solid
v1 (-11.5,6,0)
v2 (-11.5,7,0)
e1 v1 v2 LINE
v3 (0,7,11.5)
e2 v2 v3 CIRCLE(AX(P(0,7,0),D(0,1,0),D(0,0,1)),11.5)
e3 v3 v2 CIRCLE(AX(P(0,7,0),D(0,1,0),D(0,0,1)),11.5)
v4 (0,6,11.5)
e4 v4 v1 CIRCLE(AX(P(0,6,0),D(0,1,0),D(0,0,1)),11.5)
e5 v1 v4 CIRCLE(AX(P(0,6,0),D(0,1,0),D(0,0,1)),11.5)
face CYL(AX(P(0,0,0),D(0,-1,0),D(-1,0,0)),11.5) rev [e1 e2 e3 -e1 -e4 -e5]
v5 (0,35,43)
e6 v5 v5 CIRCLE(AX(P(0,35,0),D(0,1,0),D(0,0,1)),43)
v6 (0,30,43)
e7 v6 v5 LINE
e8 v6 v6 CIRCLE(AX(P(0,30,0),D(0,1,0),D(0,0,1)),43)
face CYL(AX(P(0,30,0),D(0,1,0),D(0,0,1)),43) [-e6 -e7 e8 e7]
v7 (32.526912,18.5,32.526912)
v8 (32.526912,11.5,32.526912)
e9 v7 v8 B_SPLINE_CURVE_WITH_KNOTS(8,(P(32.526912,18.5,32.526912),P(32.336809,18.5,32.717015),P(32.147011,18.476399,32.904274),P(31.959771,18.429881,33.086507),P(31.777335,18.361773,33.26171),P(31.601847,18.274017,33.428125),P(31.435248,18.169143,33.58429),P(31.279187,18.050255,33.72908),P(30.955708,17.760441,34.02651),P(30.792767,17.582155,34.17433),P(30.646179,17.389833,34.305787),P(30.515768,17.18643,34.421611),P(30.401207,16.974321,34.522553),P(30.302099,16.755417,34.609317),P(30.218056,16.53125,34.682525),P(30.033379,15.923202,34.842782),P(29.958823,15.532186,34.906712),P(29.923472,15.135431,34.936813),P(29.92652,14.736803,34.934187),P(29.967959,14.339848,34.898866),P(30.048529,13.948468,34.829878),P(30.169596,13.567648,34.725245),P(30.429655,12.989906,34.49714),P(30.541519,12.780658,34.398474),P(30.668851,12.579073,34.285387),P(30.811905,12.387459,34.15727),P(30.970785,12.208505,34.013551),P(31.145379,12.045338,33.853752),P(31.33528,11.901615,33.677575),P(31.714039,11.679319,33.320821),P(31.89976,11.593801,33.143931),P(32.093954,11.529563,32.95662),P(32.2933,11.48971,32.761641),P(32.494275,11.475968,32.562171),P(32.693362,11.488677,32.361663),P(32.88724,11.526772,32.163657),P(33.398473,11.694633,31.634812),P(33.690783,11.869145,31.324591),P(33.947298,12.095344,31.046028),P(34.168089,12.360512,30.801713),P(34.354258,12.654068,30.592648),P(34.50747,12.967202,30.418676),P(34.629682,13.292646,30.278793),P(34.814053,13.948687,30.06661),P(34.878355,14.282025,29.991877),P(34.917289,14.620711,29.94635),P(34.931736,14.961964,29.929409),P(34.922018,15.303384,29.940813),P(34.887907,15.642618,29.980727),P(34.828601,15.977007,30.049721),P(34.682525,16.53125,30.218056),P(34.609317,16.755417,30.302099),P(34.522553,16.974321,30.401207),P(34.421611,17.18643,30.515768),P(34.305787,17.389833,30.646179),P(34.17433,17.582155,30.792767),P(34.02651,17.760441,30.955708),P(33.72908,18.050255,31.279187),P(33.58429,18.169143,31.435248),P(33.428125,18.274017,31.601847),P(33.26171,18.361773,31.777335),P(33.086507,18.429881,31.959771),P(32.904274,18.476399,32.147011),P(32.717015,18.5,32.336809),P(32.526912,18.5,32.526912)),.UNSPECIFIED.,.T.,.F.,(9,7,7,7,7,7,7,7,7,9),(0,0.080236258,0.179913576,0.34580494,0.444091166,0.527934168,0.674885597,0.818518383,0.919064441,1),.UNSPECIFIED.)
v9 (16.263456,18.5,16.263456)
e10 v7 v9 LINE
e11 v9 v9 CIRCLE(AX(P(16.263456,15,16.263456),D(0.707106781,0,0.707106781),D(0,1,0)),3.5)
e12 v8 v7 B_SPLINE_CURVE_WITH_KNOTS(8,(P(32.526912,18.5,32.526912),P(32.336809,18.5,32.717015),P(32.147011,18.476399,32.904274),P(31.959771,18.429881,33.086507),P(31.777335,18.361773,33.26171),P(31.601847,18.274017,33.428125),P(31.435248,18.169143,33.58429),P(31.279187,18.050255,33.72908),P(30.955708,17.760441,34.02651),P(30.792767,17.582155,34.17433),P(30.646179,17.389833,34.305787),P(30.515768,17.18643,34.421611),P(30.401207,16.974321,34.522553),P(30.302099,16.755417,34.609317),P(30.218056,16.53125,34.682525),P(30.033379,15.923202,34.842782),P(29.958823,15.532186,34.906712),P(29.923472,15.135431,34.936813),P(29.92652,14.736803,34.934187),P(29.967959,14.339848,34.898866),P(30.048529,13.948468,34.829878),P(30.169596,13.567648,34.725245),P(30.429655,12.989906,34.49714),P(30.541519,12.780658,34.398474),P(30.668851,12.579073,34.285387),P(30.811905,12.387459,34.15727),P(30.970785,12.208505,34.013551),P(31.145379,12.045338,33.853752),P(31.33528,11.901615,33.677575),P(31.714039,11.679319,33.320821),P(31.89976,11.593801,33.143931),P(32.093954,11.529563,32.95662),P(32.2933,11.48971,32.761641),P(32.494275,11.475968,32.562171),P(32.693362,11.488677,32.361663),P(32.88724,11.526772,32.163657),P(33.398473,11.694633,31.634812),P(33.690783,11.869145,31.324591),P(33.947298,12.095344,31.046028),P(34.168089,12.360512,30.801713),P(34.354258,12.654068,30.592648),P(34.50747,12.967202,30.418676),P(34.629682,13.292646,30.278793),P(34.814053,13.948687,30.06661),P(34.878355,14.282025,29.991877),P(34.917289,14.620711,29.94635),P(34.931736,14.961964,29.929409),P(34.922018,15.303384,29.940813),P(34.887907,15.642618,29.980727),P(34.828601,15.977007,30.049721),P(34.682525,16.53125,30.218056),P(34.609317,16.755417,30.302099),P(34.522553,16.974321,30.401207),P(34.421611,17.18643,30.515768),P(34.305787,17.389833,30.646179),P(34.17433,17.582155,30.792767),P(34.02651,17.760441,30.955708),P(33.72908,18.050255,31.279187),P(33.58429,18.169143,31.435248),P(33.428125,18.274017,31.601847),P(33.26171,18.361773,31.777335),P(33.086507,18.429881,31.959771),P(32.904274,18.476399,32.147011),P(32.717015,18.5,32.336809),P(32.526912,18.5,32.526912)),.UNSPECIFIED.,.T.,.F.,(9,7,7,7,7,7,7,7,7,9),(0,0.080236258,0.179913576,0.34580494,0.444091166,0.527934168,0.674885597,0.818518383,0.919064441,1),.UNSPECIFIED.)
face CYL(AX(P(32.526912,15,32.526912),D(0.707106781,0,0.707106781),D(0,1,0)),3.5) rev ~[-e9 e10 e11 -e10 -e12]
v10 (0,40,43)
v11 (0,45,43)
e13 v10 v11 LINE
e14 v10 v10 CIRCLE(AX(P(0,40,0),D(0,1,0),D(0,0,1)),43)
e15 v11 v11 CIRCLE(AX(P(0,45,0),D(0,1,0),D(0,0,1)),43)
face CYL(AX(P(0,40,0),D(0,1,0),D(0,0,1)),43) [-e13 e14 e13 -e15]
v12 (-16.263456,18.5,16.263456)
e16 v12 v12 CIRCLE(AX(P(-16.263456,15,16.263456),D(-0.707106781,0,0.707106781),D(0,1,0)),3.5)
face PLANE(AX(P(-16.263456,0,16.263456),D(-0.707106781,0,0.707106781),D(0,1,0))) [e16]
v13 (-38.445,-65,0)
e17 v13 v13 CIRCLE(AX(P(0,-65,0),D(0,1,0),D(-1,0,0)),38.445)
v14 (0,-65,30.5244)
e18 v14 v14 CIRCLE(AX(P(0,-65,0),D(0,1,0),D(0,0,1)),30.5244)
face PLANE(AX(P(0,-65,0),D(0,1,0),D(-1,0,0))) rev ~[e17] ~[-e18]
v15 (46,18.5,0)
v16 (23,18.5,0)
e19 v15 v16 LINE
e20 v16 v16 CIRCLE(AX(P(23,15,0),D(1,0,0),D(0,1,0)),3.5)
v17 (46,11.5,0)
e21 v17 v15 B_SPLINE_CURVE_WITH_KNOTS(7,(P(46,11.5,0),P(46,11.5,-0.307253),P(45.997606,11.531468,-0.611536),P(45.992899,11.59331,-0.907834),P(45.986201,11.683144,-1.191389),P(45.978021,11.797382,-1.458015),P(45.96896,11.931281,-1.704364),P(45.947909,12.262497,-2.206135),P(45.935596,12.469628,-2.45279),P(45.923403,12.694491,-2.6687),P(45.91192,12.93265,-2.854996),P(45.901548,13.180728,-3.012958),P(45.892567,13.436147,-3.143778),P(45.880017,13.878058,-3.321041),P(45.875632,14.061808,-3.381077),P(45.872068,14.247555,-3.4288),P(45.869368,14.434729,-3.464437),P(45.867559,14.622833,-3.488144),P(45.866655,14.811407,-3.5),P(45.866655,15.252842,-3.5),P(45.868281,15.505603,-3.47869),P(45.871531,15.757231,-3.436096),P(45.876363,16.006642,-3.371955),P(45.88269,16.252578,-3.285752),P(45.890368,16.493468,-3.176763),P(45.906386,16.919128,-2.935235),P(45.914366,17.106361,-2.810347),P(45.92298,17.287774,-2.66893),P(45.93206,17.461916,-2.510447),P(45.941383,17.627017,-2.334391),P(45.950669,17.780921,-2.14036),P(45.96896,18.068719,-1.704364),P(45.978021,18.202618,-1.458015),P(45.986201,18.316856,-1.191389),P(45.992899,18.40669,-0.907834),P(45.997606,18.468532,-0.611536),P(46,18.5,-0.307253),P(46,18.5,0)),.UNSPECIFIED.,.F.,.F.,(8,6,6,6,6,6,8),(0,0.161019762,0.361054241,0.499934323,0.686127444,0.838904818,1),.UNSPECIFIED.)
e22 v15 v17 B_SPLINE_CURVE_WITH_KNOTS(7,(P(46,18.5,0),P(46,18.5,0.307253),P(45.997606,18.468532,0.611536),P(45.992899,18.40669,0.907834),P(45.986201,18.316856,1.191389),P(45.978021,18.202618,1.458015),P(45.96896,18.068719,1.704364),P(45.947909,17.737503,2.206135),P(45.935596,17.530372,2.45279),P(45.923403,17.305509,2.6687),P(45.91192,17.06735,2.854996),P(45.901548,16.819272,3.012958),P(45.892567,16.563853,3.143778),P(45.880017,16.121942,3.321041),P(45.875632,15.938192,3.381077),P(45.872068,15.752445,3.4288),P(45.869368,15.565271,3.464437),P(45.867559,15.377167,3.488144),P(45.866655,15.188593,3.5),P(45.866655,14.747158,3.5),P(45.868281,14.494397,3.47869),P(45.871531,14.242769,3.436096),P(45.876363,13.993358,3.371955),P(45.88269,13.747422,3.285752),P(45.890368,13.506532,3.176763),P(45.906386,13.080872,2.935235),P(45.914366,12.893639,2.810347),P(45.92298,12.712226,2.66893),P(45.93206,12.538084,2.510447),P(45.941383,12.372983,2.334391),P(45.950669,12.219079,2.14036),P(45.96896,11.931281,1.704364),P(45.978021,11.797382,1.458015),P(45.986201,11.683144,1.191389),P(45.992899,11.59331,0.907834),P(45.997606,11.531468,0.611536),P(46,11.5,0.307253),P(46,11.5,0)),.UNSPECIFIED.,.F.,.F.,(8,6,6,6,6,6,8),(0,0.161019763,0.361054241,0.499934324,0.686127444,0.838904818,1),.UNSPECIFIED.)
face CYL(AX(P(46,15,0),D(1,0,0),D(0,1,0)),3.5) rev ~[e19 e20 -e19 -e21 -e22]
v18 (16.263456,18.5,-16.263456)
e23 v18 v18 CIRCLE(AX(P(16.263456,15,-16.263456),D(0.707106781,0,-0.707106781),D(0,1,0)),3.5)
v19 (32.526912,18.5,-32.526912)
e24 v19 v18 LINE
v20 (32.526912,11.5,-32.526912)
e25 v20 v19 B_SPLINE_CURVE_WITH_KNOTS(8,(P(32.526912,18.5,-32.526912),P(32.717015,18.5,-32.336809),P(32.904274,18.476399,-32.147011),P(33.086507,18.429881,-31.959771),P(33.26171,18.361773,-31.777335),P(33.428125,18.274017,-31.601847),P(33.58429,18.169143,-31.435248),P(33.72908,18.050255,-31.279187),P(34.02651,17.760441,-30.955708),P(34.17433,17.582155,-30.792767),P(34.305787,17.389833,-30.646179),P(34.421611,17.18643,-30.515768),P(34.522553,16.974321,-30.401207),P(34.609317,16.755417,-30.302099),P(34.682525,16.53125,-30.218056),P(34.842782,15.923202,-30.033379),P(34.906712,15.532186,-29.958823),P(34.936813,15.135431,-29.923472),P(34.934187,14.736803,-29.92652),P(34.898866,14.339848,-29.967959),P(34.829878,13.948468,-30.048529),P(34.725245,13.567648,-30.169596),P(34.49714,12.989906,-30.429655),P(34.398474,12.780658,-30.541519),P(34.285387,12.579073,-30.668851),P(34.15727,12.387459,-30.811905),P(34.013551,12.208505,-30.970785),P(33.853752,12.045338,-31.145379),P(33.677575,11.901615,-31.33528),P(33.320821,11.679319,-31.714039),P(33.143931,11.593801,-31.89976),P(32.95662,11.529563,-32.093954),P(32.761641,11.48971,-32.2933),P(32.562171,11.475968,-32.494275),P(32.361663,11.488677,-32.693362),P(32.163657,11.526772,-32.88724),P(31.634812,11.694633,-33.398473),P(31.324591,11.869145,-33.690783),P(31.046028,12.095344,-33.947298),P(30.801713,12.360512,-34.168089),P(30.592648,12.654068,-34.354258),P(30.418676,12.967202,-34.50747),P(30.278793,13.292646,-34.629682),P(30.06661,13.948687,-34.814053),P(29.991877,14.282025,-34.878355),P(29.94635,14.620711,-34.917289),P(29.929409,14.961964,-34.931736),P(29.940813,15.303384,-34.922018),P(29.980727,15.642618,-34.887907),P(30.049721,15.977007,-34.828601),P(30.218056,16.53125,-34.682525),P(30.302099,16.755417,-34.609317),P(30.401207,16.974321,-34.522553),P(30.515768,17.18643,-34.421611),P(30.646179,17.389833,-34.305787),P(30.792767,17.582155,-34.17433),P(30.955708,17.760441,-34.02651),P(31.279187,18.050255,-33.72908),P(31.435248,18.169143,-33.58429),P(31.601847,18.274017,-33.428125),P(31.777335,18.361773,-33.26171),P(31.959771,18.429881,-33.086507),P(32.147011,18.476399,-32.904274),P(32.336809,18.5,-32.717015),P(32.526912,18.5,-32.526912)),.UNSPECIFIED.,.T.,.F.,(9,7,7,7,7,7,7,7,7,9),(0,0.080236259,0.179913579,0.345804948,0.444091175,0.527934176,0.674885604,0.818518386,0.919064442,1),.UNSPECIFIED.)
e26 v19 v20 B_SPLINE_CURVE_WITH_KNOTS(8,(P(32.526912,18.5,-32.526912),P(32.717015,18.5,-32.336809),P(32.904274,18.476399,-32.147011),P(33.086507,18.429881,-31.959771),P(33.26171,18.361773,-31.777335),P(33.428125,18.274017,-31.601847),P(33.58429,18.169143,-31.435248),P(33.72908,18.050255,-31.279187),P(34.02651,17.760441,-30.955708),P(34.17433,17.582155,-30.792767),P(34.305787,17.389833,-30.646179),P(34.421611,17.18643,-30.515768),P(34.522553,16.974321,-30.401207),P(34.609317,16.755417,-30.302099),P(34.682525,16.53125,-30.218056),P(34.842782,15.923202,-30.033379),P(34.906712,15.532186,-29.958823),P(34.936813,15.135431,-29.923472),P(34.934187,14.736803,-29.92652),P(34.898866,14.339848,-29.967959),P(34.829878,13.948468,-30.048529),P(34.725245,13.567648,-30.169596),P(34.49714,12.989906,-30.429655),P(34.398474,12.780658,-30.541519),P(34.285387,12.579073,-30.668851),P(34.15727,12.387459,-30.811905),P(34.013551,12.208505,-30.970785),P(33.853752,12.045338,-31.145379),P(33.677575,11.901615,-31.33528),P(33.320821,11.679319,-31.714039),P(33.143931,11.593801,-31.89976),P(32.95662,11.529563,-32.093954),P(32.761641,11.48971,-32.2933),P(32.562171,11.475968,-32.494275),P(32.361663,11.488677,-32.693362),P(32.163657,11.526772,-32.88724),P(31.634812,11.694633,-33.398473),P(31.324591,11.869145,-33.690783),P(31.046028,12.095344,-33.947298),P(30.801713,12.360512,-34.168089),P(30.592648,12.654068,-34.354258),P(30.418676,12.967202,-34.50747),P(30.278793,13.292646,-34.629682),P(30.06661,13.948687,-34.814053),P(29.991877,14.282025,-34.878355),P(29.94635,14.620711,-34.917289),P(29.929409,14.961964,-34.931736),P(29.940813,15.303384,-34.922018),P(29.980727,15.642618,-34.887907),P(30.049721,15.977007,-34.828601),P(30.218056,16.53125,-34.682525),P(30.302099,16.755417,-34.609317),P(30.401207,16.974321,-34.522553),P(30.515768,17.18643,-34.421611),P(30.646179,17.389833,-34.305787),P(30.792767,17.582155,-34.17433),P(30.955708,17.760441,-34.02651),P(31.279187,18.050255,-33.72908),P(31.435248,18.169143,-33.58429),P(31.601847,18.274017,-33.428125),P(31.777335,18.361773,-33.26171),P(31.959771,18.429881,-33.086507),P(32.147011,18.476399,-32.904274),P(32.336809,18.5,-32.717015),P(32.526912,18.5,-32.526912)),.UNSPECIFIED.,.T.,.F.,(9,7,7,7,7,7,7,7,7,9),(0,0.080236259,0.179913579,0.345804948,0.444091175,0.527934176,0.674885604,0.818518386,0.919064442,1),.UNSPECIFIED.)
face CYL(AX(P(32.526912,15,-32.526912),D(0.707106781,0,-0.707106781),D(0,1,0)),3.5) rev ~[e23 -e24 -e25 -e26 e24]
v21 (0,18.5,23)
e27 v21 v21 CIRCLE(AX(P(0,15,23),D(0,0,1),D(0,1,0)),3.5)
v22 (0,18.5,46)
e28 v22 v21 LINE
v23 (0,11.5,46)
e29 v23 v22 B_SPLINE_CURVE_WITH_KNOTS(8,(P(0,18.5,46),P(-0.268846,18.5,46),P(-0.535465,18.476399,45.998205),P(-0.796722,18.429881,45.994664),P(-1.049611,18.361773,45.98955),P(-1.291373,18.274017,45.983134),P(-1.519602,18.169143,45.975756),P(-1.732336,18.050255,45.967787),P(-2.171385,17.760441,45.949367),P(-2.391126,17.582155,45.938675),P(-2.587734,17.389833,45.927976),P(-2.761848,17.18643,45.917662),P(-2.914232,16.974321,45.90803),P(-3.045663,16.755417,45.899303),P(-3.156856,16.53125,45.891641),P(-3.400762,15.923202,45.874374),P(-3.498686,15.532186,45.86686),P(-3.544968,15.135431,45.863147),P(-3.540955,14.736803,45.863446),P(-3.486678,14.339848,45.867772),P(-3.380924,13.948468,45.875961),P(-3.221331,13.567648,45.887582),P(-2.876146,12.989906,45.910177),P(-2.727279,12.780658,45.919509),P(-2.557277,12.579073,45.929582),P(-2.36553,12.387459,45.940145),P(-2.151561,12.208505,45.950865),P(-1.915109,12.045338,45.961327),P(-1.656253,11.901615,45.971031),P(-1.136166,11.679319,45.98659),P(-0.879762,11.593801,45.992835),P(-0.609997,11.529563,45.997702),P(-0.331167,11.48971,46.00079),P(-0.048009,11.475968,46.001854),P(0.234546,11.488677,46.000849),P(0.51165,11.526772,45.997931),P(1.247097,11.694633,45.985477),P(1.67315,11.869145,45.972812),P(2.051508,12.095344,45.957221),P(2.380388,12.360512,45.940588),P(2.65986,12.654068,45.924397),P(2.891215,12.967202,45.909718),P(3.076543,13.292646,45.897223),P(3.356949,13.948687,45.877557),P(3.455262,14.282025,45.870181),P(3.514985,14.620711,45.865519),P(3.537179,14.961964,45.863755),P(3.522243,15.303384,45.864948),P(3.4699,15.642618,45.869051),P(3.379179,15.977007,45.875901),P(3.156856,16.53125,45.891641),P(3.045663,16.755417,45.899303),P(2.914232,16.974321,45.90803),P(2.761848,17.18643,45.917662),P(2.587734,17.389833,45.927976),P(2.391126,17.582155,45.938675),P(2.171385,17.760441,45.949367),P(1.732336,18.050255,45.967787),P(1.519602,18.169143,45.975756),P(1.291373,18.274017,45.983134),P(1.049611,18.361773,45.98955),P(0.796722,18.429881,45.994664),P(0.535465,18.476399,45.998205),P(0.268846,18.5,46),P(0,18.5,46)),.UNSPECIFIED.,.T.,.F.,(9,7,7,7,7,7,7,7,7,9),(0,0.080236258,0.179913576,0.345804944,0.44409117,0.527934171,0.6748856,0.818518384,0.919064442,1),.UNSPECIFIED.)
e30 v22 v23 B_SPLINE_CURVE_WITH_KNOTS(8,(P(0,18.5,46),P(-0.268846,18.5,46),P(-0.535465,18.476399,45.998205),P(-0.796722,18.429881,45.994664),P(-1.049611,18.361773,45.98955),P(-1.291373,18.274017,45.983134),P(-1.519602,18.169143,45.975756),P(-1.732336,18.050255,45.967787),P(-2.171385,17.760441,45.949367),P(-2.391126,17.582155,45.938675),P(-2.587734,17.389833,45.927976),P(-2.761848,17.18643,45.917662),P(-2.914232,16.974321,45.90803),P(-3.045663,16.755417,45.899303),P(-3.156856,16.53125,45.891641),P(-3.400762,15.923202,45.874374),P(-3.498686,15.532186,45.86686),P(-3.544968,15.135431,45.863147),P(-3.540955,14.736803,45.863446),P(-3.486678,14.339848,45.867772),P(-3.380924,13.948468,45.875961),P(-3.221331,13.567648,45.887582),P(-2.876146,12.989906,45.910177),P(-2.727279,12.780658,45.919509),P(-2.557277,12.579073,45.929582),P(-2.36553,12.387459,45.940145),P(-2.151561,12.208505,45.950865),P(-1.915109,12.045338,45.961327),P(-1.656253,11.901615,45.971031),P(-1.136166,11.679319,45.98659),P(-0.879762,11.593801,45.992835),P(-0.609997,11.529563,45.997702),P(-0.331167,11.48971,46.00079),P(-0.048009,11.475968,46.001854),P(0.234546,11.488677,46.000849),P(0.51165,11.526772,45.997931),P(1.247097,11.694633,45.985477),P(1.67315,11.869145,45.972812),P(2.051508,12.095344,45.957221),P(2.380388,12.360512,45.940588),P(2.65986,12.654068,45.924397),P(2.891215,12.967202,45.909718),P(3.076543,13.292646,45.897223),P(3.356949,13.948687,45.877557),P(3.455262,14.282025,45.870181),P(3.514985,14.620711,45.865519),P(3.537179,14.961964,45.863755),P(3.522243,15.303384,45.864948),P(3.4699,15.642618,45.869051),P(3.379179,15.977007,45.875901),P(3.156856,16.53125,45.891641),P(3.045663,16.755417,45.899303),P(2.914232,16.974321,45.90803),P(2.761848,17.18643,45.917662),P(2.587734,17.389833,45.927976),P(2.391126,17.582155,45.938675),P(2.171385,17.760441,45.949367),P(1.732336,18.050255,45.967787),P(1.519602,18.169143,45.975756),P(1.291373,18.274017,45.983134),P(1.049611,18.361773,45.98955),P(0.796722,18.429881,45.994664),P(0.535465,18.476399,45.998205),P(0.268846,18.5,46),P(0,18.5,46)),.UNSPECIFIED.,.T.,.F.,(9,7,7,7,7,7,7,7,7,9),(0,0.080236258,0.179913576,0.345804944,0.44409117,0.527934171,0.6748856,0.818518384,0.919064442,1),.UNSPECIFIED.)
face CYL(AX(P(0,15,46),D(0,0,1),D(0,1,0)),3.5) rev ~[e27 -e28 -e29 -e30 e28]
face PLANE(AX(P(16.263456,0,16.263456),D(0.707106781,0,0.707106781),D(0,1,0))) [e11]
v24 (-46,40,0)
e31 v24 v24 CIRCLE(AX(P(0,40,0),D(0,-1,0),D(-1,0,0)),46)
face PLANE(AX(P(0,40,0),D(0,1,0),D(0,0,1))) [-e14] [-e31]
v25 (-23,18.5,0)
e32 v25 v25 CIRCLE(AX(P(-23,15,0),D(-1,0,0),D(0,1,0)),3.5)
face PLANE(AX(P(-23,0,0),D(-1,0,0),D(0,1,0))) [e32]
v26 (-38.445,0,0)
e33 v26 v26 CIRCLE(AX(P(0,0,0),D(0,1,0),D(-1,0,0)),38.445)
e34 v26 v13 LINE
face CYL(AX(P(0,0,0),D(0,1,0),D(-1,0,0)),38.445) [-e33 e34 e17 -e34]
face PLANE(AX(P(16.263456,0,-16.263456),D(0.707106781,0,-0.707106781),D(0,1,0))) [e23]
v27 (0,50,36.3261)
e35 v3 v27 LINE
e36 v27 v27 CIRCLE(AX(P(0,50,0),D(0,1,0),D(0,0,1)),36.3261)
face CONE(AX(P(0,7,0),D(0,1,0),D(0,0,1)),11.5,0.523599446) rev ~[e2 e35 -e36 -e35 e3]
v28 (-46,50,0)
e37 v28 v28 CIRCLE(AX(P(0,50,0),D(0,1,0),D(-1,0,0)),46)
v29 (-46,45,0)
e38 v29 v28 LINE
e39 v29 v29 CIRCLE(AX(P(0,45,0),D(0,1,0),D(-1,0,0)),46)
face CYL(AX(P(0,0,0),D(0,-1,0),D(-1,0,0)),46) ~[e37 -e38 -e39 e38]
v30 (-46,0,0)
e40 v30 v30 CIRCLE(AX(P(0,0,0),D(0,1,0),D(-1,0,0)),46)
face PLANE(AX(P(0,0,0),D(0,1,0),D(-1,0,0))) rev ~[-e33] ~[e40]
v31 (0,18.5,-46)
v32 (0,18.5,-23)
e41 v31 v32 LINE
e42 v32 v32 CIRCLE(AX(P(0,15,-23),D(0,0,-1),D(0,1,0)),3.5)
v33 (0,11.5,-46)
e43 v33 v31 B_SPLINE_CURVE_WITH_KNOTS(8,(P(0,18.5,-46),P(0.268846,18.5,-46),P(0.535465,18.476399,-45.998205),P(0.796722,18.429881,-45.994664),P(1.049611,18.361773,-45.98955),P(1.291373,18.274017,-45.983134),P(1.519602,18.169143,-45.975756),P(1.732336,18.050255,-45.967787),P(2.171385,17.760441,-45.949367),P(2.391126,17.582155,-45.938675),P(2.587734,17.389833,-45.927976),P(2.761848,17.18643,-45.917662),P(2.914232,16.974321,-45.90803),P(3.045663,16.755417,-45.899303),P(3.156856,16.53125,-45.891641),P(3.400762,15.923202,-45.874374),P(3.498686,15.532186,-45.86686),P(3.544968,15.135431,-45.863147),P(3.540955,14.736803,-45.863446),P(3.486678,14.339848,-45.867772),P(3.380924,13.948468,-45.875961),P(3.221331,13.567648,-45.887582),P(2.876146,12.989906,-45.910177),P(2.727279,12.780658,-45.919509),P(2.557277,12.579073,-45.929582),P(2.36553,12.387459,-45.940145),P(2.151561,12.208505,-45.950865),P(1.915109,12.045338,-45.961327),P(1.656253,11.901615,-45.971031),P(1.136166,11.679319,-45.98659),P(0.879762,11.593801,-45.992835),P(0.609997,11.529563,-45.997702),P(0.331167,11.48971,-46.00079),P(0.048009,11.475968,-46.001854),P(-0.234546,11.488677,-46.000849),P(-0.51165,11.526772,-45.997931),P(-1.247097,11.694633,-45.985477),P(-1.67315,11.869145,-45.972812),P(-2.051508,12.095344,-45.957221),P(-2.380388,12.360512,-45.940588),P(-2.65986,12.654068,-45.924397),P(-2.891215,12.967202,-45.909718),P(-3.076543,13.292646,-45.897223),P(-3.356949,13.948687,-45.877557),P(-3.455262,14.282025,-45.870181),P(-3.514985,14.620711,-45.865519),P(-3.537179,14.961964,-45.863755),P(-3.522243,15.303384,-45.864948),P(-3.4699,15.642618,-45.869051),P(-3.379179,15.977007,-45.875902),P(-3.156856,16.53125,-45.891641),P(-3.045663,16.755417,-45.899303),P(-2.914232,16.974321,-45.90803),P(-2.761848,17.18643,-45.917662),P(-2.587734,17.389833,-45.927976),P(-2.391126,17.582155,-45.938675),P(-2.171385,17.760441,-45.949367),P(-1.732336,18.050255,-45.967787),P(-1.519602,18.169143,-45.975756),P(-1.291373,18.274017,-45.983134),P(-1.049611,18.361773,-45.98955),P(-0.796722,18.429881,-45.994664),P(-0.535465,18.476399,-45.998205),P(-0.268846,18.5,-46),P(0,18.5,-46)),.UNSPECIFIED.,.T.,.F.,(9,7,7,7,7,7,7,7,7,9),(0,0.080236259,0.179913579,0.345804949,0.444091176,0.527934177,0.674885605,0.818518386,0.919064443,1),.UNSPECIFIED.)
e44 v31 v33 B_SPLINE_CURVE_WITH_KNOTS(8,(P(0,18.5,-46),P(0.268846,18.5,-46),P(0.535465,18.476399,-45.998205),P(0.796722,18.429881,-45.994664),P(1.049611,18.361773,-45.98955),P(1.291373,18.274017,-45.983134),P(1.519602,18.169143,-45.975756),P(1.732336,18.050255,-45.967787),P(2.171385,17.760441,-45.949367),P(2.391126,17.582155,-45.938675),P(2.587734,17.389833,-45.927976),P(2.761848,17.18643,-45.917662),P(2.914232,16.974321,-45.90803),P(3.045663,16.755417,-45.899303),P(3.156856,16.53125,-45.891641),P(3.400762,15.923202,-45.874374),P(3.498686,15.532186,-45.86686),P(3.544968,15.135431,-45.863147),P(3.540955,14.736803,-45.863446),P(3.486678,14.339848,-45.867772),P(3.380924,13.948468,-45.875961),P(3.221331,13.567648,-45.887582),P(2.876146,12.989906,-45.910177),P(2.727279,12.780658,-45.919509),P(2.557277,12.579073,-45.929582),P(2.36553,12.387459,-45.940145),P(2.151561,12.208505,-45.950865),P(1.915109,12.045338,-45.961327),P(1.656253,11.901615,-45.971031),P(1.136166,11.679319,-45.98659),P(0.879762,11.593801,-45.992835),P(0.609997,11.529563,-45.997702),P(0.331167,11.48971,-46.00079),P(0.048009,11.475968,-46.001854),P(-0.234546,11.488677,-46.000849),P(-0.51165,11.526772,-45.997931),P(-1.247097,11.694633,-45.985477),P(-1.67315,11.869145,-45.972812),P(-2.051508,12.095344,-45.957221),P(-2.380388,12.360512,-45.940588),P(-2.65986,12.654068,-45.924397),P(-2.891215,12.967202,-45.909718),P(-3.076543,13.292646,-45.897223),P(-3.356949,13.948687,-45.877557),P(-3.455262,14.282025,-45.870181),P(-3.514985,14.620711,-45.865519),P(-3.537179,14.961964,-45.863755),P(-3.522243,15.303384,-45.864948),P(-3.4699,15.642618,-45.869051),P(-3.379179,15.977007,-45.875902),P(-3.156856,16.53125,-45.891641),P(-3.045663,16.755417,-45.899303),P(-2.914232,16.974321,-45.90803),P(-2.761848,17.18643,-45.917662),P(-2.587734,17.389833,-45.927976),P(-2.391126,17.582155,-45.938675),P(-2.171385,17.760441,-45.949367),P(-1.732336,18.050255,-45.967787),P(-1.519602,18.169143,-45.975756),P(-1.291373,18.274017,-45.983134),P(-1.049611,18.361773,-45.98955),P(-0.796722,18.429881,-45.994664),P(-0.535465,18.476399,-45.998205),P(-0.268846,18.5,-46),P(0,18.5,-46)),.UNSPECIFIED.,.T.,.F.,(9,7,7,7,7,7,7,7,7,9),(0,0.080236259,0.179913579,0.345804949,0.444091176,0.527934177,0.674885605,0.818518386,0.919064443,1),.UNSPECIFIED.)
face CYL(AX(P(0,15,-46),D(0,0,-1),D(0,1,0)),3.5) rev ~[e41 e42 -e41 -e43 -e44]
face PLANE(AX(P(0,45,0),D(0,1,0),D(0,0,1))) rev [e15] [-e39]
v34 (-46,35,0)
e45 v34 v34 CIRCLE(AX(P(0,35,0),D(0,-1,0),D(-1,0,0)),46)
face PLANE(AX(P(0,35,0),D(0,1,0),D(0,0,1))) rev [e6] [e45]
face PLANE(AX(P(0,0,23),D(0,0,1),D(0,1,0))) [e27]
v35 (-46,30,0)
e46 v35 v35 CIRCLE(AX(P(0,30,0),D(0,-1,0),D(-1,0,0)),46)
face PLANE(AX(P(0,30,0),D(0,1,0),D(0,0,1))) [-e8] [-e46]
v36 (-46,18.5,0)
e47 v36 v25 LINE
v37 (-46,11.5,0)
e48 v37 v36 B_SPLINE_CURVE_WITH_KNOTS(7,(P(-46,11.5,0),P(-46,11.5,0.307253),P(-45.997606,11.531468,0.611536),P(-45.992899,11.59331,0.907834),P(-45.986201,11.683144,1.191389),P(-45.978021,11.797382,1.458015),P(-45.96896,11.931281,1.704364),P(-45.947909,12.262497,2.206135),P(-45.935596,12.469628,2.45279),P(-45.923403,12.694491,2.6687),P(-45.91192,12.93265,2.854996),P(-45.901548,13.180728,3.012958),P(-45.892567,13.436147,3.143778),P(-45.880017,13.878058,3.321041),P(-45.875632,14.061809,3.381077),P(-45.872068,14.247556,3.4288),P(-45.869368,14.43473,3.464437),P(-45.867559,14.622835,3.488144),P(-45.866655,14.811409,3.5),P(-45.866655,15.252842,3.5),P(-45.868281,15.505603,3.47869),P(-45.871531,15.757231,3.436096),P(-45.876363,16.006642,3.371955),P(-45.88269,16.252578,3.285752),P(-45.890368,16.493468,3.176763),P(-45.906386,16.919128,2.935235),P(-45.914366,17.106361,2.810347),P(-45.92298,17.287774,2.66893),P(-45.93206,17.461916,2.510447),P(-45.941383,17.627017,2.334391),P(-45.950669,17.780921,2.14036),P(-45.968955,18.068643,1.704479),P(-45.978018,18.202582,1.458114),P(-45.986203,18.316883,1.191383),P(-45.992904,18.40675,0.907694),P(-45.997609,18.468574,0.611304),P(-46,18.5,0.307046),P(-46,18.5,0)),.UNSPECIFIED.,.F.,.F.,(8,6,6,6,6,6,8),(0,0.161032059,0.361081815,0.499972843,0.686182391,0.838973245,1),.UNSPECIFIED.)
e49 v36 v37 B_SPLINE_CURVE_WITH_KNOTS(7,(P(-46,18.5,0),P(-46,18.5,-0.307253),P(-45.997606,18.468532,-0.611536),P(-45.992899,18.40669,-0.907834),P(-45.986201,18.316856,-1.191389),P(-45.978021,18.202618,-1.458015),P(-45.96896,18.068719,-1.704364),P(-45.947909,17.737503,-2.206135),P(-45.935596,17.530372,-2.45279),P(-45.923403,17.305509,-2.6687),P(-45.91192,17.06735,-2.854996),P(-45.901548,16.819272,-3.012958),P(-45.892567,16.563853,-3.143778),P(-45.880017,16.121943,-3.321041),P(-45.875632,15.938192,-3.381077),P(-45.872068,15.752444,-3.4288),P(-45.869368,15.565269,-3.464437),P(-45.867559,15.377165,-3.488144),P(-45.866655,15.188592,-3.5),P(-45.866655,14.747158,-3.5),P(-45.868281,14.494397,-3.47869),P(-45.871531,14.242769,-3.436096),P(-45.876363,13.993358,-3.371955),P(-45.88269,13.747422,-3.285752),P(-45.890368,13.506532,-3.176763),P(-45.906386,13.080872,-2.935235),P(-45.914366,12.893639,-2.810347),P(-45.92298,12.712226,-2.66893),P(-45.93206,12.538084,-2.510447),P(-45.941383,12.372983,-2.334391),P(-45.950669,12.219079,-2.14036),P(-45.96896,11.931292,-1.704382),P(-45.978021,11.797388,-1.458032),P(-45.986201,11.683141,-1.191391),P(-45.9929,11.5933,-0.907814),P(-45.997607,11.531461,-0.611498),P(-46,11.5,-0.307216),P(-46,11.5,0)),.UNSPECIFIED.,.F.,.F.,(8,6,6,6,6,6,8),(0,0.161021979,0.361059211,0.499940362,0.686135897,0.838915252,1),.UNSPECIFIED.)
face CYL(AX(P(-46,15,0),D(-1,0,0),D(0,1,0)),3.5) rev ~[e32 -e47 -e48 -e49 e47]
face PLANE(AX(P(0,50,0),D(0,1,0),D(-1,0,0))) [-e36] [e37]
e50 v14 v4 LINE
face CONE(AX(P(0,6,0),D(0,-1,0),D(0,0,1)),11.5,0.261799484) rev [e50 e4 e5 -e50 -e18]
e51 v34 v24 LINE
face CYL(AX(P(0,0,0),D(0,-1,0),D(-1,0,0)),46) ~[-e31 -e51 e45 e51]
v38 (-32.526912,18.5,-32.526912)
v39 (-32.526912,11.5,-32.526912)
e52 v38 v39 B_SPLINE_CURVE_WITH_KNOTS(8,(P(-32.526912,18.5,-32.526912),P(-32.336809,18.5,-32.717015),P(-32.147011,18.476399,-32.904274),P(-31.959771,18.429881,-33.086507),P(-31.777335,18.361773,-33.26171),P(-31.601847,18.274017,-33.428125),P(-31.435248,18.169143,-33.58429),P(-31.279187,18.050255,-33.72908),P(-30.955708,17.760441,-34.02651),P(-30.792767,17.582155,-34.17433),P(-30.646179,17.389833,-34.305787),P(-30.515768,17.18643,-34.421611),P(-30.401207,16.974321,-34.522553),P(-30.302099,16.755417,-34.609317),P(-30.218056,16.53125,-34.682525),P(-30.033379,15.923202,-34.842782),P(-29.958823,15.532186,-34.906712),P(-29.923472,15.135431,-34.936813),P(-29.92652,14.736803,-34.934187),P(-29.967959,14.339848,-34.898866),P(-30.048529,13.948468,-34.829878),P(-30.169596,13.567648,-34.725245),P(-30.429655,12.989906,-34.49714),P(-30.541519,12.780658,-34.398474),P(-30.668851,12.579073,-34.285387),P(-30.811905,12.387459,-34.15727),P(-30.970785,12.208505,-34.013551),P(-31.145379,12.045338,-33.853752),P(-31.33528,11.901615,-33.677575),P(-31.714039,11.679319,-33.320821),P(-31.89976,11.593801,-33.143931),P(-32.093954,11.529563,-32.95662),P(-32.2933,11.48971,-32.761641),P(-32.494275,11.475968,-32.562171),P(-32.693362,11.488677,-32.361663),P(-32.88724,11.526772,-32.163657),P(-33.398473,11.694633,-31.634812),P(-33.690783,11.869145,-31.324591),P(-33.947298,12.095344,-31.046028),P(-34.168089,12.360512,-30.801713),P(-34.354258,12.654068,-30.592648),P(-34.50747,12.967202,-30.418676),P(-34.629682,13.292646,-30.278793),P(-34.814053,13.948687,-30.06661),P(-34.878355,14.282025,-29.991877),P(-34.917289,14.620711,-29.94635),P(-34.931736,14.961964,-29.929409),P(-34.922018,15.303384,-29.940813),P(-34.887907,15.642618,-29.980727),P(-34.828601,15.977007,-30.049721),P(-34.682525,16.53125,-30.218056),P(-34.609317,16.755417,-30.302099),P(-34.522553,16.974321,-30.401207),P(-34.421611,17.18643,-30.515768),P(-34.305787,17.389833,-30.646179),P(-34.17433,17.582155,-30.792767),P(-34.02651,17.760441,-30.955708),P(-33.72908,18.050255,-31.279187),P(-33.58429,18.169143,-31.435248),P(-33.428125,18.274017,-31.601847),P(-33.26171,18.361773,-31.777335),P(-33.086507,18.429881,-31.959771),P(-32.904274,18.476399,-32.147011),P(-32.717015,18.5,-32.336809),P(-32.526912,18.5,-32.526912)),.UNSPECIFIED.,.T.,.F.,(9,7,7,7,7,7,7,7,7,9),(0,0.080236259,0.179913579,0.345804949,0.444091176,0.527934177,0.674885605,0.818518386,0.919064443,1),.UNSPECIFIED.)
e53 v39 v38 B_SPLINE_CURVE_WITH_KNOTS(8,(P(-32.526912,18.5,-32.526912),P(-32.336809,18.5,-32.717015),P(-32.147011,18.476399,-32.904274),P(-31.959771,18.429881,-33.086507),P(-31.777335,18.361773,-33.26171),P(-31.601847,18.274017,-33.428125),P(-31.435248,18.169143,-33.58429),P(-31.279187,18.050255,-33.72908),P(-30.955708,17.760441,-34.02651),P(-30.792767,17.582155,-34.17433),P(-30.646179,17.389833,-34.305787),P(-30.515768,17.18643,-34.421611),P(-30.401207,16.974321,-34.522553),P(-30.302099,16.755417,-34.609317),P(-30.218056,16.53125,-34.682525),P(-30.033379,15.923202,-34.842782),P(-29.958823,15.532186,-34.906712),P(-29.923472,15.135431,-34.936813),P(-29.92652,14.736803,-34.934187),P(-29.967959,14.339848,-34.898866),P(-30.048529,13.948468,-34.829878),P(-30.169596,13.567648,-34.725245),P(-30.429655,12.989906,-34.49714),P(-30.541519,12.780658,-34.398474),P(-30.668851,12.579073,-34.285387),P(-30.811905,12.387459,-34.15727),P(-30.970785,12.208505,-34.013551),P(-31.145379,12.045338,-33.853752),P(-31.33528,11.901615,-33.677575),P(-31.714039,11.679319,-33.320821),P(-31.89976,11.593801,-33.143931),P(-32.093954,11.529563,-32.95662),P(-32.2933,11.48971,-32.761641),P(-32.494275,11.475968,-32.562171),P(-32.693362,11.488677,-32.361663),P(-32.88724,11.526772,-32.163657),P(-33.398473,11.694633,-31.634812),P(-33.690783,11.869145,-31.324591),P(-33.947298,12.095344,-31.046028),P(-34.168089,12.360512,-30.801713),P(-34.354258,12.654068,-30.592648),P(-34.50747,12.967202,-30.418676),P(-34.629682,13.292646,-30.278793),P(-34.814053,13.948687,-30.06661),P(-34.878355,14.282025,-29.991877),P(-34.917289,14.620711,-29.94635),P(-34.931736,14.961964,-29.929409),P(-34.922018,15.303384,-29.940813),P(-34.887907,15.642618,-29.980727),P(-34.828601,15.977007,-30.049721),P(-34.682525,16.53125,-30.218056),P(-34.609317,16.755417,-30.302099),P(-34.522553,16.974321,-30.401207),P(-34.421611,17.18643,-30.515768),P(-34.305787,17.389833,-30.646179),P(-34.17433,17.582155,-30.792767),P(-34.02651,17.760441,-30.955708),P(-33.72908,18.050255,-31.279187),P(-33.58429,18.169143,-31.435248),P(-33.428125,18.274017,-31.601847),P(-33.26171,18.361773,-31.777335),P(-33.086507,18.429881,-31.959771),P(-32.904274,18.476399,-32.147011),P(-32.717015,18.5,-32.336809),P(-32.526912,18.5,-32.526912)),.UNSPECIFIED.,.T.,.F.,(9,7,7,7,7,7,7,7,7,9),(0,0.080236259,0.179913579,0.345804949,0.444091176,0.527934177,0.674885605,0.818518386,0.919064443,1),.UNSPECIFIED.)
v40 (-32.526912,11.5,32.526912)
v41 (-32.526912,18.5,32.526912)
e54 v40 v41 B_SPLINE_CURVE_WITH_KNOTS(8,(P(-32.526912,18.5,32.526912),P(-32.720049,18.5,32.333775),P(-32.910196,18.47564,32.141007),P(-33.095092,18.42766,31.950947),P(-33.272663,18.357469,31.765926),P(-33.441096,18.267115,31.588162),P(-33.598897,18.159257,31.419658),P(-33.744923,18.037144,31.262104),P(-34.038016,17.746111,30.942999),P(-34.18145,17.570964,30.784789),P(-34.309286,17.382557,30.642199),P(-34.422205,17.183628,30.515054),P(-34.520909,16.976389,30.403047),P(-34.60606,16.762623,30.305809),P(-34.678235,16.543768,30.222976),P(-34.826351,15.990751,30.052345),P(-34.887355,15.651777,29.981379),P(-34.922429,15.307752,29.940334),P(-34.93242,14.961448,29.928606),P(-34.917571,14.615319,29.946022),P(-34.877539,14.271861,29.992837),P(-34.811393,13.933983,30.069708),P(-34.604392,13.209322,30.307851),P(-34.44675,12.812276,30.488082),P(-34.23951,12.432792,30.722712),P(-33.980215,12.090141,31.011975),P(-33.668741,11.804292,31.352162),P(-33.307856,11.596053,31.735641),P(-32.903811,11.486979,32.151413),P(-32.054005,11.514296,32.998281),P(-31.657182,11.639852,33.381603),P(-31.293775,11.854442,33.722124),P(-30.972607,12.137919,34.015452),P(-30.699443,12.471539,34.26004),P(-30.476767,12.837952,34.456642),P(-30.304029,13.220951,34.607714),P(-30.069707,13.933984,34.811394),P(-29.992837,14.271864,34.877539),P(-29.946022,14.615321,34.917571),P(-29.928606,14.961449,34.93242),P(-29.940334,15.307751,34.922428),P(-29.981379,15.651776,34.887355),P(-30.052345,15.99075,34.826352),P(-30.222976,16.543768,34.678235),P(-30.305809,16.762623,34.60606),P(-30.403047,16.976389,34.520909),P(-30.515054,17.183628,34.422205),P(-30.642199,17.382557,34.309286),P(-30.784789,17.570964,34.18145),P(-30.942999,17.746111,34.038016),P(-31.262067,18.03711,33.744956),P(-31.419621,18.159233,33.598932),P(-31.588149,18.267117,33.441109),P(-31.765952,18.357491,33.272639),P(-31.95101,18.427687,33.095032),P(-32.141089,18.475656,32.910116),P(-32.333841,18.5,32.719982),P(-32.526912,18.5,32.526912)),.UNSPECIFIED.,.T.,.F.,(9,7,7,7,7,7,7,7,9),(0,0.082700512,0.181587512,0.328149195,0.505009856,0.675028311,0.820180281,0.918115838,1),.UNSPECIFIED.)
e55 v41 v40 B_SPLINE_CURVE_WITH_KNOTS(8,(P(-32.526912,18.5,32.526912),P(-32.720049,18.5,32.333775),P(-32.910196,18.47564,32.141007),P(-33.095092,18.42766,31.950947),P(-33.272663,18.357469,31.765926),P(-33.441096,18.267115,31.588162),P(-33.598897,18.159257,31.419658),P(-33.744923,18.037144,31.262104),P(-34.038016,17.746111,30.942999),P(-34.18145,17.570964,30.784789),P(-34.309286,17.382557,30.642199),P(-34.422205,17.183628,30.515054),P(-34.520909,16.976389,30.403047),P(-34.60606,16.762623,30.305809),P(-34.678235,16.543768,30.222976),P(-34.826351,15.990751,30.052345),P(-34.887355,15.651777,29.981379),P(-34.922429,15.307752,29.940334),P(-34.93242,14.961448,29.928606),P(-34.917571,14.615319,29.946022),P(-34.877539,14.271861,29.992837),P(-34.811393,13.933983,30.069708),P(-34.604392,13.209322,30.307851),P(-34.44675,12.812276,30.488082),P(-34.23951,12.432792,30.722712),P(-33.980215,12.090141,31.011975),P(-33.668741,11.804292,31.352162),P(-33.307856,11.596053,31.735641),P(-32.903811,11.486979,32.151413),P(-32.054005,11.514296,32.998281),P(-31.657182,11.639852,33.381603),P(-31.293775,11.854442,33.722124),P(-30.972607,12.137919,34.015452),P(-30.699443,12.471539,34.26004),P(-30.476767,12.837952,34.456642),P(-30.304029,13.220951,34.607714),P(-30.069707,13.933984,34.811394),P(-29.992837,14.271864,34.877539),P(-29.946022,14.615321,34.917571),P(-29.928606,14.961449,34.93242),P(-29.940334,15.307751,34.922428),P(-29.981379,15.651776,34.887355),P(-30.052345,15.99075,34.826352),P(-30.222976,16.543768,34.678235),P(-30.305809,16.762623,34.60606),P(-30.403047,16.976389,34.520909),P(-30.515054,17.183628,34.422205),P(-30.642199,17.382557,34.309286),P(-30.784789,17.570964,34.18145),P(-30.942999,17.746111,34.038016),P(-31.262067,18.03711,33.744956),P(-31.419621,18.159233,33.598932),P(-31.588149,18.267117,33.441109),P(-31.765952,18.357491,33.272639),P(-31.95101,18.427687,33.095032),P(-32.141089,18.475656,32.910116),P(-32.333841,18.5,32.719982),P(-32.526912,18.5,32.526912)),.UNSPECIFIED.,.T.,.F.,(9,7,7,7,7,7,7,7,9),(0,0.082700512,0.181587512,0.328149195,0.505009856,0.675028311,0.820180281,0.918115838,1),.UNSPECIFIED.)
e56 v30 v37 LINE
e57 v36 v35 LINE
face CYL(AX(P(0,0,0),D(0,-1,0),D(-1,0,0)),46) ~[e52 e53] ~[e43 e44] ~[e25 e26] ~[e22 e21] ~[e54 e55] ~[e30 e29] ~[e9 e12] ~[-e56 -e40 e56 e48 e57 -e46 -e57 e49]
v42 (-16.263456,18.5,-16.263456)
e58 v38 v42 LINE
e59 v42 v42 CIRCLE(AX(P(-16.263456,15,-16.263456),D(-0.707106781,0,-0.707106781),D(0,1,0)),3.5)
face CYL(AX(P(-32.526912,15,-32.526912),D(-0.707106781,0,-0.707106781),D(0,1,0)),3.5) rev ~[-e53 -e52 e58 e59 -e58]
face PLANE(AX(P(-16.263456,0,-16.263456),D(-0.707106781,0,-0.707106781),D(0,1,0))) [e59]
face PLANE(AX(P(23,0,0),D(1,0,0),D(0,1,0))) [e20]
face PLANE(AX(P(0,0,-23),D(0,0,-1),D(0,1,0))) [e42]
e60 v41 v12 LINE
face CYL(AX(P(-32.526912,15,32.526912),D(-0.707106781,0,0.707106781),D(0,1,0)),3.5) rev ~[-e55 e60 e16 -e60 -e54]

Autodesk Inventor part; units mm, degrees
ref_plane "XZ Plane" through (0, 0, 0) normal (0, 1, 0) x (-1, 0, 0)
ref_plane "XY Plane" through (0, 0, 0) normal (0, 0, 1) x (1, 0, 0)
sketch "Sketch1" plane through (0, 0, 0) normal (0, 1, 0) x (-1, 0, 0)
  circle A0 centre (0, 0) radius 46
  circle A1 centre (0, 0) radius 38.445
  circle A2 centre (0, 0) radius 11.5
  dimension "d0" = 92
  dimension "d1" = 76.89
  dimension "d2" = 23
extrude "Extrusion1" add sketch "Sketch1" against normal blind 65 contours A1
extrude "Extrusion2" add sketch "Sketch1" along normal blind 50 contours A0 | A1
sketch "Sketch2" plane through (0, 0, 0) normal (1, 0, 0) x (0, 1, 0)
  line L0 (50, -46) -> (50, 46) projected
  line L1 (0, -46) -> (0, 46) projected
  line L2 (-65, 38.445) -> (-65, -38.445) projected
  line L3 (0, -38.445) -> (0, 38.445) projected
  line L4 (0, -46) -> (0, -38.445) projected
  line L5 (0, -38.445) -> (-65, -38.445) projected
  line L6 (-65, -38.445) -> (-65, -11.5) projected
  line L7 (-65, -11.5) -> (50, -11.5) projected
  line L8 (50, -11.5) -> (50, -46) projected
  line L9 (0, 38.445) -> (0, 46) projected
  line L10 (50, 46) -> (50, 11.5) projected
  line L11 (50, 11.5) -> (-65, 11.5) projected
  line L12 (-65, 11.5) -> (-65, 38.445) projected
  line L13 (-65, 38.445) -> (0, 38.445) projected
  line L14 (45, 46) -> (40, 46)
  line L15 (40, 46) -> (40, 43)
  line L16 (40, 43) -> (45, 43)
  line L17 (45, 43) -> (45, 46)
  line L18 (35, 46) -> (30, 46)
  line L19 (30, 46) -> (30, 43)
  line L20 (30, 43) -> (35, 43)
  line L21 (35, 43) -> (35, 46)
  line L22 (-65, 11.5) -> (50, 11.5) projected
  line L23 (6, -11.5) -> (6, 11.5)
  line L24 (6, 11.5) -> (-65, 30.5244)
  line L25 (-88, 0) -> (73, 0) projected
  line L26 (-65, 30.5244) -> (-65, 0)
  line L27 (-65, 0) -> (6, 0)
  line L28 (7, 11.5) -> (7, -11.5)
  line L29 (7, 11.5) -> (50, 36.3261)
  line L30 (50, 36.3261) -> (50, 0)
  line L31 (7, 0) -> (50, 0)
  line L32 (50, -46) -> (0, -46) projected
  line L33 (0, 46) -> (50, 46) projected
  point P0 (0, 0)
  point P1 (30, 46)
  point P2 (0, 13.1077)
  point P3 (0, 0)
  dimension "d11" = 5
  dimension "d12" = 5
  dimension "d13" = 5
  dimension "d14" = 5
  dimension "d15" = 3
  dimension "d16" = 71
  dimension "d17" = 15
  dimension "d18" = 1
  dimension "d19" = 30
revolve "Revolution1" cut sketch "Sketch2" angle 360 about axis through (0, -10, 0) along (0, 1, 0) contours L25 L28 L11 L0 | L11 L29 L0 | L25 L1 L11 L23 | L25 L2 L11 L1 | L11 L1 L24 | L11 L2 L24 L1 | L17 L16 L15 L14 | L21 L20 L19 L18
ref_plane "Work Plane1" through (46, 0, 0) normal (1, 0, 0) x (0, 1, 0)
sketch "Sketch3" plane through (46, 0, 0) normal (1, 0, 0) x (0, 1, 0)
  line L0 (45, 0) -> (50, 0) projected
  line L1 (35, 0) -> (40, 0) projected
  line L2 (0, 0) -> (30, 0) projected
  circle A0 centre (15, 0) radius 3.5
  line L3 (0, -46) -> (0, 46) projected
  dimension "d23" = 7
  dimension "d24" = 15
extrude "Extrusion3" cut sketch "Sketch3" against normal blind 23
pattern_circular "Circular Pattern1" count 8 over 360 about axis through (0, 0, 0) along (0, 1, 0) of "Extrusion3"
properties part number "nozzle 94mm"
